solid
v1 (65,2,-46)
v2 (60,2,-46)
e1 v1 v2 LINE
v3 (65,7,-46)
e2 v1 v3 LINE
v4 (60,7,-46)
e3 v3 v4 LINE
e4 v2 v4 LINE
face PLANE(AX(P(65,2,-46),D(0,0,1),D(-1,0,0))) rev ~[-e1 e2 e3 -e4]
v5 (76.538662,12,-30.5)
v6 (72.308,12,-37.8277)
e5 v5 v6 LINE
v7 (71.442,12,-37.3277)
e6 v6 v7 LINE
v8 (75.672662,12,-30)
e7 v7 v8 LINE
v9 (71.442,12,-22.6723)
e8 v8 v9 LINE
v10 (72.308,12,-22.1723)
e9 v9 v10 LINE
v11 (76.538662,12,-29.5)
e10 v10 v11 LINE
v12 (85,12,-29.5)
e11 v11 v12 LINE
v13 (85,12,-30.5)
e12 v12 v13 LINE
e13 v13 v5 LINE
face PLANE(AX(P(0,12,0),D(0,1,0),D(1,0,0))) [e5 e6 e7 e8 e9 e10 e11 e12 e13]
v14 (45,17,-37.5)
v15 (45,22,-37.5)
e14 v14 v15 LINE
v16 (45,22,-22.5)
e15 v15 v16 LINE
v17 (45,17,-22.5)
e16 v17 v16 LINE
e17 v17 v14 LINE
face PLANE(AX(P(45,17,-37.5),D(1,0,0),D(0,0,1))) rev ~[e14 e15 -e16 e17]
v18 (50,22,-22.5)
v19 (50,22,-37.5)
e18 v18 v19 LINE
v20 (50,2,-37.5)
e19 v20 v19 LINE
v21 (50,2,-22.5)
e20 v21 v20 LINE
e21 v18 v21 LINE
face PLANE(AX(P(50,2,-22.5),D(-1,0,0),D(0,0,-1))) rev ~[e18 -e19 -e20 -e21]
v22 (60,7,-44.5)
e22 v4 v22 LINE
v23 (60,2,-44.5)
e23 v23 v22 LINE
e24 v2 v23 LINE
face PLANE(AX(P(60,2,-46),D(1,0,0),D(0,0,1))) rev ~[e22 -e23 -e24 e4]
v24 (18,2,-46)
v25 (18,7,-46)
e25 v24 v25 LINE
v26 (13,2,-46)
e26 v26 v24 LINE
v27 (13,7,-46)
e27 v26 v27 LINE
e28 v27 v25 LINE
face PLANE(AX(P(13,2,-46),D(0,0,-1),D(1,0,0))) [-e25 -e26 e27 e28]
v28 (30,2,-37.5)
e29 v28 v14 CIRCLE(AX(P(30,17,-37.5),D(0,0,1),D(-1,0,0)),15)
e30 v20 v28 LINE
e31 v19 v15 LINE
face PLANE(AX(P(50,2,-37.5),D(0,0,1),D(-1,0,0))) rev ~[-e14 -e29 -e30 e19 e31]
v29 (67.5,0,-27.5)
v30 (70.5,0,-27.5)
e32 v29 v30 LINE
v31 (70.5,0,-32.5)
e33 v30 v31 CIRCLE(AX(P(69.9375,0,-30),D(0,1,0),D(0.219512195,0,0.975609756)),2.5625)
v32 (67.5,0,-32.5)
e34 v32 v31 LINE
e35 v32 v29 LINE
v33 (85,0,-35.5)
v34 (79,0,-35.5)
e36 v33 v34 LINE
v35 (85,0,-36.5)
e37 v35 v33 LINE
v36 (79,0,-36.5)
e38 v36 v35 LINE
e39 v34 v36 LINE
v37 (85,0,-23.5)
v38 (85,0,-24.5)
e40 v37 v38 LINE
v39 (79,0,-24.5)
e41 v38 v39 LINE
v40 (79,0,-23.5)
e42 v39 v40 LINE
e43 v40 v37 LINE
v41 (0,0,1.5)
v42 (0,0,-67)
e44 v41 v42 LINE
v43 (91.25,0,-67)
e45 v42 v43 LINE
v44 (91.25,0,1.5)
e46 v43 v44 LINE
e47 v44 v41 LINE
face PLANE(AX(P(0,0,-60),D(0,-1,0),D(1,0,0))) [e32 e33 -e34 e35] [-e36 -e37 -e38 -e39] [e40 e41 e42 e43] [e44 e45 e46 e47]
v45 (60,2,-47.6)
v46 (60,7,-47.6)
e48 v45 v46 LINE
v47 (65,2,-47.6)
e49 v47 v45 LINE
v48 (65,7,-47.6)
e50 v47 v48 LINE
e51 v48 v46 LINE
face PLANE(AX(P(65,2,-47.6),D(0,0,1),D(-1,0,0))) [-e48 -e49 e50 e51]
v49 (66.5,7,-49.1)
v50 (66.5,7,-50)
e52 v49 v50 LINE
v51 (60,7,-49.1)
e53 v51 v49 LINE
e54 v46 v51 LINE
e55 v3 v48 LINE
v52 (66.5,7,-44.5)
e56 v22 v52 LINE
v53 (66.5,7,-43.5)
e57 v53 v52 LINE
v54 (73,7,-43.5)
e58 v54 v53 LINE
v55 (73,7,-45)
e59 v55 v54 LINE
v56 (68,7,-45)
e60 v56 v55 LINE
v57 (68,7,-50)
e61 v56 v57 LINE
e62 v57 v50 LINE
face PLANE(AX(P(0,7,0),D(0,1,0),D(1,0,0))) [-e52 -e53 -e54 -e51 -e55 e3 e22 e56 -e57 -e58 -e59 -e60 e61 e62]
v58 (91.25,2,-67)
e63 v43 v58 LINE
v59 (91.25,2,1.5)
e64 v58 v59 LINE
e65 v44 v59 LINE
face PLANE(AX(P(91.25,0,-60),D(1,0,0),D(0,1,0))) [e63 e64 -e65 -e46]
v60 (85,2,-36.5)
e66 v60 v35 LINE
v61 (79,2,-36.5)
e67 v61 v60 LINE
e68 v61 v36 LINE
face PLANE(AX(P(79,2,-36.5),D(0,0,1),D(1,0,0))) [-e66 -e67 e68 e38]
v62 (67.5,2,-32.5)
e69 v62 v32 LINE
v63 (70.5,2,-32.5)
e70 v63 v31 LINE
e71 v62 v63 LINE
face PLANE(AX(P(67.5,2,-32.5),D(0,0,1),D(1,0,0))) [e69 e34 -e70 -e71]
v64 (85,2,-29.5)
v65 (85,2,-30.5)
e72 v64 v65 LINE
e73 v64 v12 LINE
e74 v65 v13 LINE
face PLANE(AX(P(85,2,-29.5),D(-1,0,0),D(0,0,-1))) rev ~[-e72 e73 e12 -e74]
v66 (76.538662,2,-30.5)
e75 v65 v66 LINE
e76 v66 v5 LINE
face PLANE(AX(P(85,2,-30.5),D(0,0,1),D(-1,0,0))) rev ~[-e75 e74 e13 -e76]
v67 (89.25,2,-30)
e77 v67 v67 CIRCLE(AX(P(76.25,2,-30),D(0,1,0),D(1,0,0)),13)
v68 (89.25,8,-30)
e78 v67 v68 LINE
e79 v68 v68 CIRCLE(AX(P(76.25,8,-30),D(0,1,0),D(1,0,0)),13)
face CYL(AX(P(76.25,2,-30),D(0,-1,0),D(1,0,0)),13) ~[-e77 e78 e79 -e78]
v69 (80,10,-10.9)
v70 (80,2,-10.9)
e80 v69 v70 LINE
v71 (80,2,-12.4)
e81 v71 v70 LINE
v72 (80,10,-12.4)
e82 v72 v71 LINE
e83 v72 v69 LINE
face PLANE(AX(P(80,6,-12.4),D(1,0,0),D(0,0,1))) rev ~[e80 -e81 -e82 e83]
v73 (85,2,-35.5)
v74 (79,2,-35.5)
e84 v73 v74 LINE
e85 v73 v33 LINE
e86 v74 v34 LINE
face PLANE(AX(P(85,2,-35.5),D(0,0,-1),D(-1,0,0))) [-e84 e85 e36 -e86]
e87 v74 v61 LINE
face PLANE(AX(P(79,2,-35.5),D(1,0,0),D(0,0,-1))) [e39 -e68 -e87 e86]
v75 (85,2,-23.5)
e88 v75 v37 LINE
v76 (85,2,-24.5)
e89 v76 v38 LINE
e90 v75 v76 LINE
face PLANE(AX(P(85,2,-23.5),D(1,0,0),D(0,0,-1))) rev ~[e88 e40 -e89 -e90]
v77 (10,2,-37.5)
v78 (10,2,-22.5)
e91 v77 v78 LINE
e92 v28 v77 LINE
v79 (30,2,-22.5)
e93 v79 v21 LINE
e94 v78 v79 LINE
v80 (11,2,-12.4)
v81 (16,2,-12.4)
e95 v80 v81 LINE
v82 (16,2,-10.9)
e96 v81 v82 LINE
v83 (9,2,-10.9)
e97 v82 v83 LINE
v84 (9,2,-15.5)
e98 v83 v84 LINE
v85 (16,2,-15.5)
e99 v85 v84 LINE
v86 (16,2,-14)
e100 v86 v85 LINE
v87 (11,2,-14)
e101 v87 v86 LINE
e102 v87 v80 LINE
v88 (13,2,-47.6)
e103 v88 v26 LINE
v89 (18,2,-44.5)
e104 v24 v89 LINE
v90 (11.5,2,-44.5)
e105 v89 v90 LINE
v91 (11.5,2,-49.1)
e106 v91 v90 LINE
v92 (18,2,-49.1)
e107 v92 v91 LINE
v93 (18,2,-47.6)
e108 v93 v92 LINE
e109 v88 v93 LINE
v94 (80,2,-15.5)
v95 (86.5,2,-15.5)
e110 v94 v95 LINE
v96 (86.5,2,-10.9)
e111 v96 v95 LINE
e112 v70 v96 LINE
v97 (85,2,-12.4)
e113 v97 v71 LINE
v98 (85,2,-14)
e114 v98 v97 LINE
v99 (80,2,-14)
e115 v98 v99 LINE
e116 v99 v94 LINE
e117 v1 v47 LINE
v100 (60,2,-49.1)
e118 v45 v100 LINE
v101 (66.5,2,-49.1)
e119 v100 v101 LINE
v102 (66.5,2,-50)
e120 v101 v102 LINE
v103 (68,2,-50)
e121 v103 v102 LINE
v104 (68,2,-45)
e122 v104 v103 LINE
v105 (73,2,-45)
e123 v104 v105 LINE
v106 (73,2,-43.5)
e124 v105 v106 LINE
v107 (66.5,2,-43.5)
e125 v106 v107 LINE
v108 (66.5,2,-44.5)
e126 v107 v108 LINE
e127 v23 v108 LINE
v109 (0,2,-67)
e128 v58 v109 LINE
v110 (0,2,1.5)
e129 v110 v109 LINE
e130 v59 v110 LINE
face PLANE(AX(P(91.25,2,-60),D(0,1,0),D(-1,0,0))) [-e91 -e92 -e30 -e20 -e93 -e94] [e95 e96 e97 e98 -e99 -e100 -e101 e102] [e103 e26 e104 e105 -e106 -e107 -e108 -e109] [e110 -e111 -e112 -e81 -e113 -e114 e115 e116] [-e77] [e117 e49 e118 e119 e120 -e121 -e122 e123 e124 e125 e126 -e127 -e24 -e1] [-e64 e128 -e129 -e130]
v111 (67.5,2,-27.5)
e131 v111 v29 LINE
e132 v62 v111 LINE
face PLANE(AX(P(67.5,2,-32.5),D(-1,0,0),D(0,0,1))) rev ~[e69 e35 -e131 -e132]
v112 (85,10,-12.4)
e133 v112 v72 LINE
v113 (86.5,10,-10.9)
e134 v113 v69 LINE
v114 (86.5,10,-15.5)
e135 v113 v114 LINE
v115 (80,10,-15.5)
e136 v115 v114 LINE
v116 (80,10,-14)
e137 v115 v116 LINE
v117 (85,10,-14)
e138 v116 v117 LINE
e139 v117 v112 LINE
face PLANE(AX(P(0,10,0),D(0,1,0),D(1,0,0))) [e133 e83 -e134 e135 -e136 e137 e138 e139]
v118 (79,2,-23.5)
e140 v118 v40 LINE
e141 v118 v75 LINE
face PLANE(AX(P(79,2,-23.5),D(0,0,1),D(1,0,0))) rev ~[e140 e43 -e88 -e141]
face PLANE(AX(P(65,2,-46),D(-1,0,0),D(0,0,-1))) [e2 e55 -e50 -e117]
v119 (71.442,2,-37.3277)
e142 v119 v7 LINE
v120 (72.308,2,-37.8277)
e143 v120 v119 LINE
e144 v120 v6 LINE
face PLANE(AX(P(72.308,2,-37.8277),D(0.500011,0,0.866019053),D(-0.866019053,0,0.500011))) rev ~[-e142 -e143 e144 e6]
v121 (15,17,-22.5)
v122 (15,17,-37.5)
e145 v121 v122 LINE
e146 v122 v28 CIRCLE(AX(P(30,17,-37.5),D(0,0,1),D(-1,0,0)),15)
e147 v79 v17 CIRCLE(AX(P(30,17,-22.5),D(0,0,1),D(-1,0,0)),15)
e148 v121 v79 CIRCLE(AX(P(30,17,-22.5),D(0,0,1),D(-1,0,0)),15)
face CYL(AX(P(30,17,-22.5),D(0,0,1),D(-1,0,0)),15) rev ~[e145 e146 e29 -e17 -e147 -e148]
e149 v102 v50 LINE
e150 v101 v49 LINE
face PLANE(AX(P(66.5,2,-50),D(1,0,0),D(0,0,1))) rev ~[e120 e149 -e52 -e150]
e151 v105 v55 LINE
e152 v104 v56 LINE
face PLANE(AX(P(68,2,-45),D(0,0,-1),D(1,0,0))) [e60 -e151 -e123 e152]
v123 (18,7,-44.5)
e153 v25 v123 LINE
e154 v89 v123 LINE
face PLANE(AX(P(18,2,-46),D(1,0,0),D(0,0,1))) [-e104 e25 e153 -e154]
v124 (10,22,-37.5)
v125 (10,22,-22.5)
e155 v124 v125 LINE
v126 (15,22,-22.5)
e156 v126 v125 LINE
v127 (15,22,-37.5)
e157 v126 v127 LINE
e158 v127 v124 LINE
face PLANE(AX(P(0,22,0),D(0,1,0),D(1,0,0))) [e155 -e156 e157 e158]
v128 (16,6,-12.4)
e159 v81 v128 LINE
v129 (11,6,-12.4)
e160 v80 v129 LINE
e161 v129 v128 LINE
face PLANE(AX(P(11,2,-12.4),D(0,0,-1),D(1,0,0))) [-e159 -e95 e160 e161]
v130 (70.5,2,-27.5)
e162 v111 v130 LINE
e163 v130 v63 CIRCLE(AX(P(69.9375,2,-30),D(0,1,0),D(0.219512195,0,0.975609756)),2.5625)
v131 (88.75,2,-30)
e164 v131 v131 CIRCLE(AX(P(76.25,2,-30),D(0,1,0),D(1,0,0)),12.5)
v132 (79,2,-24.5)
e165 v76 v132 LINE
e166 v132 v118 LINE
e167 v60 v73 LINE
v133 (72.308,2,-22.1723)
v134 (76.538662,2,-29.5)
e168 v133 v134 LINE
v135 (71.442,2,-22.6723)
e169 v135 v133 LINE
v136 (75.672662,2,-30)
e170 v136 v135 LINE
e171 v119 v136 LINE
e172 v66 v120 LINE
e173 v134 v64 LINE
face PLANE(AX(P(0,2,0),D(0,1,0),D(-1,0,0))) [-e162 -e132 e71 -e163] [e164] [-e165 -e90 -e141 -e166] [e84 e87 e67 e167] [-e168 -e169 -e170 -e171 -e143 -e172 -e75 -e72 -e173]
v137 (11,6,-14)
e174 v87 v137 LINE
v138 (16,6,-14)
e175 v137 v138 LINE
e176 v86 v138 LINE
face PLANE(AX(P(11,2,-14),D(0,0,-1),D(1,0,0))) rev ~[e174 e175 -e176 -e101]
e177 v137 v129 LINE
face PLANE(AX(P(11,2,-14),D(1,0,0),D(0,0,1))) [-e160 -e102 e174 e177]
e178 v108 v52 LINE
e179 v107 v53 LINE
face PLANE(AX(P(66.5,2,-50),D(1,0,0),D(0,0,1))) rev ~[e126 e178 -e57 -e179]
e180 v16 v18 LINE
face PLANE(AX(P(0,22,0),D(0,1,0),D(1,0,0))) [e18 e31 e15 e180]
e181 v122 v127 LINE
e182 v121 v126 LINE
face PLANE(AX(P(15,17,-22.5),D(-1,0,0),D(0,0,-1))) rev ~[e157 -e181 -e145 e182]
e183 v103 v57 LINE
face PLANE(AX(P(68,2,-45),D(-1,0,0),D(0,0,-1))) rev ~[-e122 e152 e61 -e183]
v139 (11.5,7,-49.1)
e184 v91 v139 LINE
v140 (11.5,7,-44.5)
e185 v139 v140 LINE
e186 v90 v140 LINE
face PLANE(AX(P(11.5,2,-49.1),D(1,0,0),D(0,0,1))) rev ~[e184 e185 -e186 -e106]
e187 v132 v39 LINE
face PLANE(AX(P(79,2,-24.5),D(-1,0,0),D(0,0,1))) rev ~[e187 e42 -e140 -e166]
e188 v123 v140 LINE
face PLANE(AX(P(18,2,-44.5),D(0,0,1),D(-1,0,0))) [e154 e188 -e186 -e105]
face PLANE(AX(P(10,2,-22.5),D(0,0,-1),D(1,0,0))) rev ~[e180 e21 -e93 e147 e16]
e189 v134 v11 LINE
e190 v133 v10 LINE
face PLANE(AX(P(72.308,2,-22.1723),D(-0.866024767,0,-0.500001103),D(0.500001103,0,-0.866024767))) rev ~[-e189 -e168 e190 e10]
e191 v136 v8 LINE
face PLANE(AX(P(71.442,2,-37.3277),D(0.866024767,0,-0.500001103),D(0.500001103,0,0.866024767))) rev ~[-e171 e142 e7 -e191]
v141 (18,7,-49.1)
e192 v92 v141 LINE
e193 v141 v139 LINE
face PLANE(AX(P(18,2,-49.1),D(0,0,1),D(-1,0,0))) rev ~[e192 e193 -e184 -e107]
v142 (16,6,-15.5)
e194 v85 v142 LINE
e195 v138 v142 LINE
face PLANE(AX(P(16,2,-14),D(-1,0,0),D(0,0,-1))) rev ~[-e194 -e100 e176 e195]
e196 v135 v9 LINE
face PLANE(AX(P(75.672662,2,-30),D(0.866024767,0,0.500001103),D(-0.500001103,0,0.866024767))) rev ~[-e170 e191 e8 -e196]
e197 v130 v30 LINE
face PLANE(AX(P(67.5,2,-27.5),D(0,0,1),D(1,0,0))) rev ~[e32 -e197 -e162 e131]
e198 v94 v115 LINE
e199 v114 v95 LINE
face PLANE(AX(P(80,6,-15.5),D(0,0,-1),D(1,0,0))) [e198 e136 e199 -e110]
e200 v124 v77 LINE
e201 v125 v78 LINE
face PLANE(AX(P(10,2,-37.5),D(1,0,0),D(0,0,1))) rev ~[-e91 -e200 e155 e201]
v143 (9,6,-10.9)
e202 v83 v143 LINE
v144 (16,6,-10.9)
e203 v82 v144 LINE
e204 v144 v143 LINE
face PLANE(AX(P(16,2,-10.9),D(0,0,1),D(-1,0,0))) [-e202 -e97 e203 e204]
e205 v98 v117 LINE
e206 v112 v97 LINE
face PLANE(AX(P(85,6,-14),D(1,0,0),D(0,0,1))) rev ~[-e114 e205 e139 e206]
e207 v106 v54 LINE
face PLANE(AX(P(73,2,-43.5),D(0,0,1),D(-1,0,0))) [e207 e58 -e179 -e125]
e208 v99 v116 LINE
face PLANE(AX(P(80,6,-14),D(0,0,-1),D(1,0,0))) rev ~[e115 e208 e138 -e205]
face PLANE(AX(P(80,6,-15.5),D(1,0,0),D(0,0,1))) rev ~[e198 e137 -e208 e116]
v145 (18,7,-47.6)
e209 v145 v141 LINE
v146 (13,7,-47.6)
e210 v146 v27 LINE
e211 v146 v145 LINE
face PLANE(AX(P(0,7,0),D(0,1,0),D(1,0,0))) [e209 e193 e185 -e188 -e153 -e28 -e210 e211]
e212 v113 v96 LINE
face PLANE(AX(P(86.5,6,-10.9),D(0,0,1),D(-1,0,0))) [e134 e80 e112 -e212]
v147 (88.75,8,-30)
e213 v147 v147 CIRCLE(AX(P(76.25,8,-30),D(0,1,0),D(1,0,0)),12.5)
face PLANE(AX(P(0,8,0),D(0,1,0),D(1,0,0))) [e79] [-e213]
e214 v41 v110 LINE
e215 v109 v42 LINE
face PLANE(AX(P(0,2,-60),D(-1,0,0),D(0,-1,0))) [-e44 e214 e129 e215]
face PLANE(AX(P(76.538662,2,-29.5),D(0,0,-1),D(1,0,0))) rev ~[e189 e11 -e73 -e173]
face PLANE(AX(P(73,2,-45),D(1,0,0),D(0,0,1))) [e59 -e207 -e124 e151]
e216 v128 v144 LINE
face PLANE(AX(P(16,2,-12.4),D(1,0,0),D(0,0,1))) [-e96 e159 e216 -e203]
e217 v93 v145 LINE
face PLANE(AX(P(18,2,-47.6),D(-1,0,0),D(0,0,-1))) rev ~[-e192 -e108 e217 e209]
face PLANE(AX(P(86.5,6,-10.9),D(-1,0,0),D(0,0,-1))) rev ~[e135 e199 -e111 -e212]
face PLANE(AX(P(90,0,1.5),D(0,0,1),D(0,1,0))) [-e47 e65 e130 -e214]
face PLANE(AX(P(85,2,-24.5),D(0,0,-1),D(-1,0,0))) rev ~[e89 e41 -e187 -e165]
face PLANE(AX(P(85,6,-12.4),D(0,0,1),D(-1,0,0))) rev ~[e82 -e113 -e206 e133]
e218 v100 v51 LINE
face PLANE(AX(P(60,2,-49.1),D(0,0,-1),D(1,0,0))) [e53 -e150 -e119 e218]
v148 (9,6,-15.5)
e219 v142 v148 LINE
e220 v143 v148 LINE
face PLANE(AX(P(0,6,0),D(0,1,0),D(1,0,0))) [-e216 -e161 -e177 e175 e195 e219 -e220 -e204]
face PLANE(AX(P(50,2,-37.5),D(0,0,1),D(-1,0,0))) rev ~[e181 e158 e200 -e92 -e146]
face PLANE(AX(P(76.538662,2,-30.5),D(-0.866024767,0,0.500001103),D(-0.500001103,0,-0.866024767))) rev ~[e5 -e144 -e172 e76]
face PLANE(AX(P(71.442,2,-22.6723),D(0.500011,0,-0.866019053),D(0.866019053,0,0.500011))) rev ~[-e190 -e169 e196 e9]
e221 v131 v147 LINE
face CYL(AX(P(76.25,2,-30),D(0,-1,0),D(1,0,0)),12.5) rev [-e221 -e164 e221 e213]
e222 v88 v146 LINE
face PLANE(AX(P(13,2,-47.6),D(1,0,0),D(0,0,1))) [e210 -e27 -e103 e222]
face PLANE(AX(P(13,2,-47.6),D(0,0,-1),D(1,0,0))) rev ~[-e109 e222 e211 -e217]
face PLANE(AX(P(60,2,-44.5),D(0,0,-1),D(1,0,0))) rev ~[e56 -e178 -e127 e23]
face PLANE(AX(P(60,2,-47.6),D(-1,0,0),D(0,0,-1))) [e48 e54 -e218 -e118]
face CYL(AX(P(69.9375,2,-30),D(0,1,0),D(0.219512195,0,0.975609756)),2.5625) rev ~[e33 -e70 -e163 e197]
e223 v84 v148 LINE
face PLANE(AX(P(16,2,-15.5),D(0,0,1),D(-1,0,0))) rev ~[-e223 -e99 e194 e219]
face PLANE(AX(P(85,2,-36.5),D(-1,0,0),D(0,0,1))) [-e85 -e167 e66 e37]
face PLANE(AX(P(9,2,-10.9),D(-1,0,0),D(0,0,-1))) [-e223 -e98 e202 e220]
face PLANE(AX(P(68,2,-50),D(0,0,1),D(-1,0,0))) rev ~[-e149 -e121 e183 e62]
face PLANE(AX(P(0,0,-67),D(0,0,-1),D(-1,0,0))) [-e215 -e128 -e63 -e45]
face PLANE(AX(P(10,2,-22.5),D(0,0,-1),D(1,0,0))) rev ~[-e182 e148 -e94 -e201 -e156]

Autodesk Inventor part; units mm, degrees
ref_plane "YZ Plane" through (0, 0, 0) normal (1, 0, 0) x (0, 1, 0)
ref_plane "XZ Plane" through (0, 0, 0) normal (0, 1, 0) x (-1, 0, 0)
ref_plane "XY Plane" through (0, 0, 0) normal (0, 0, 1) x (1, 0, 0)
sketch "Sketch1" plane through (0, 0, 0) normal (0, 1, 0) x (-1, 0, 0)
  line L0 (0, 0) -> (-90, 0)
  line L1 (-90, 0) -> (-90, -60)
  line L2 (-90, -60) -> (0, -60)
  line L3 (0, -60) -> (0, 0)
  dimension "d0" = 90
  dimension "d1" = 60
extrude "Extrusion1" add sketch "Sketch1" along normal blind 2
sketch "Sketch2" plane through (0, 2, 0) normal (0, 1, 0) x (1, 0, 0)
  line L0 (90, 0) -> (90, 60) construction
  line L1 (90, 60) -> (85, 60) construction
  line L2 (90, 60) -> (0, 60) construction
  line L3 (85, 60) -> (85, 0) construction
  line L4 (0, 0) -> (90, 0) construction
  line L5 (85, 30) -> (85, 35.5) construction
  line L6 (85, 35.5) -> (85, 30) construction
  line L7 (85, 30) -> (85, 24.5) construction
  line L8 (85, 24.5) -> (79, 24.5)
  line L9 (79, 24.5) -> (79, 23.5)
  line L10 (79, 23.5) -> (85, 23.5)
  line L11 (85, 23.5) -> (85, 24.5)
  line L12 (85, 35.5) -> (79, 35.5)
  line L13 (79, 35.5) -> (79, 36.5)
  line L14 (79, 36.5) -> (85, 36.5)
  line L15 (85, 36.5) -> (85, 35.5)
  dimension "d4" = 5
  dimension "d5" = 5.5
  dimension "d6" = 5.5
  dimension "d7" = 6
  dimension "d8" = 1
  dimension "d9" = 1
extrude "Extrusion2" cut sketch "Sketch2" against normal through all
sketch "Sketch3" plane through (0, 2, 0) normal (0, 1, 0) x (1, 0, 0)
  line L0 (85, 35.5) -> (79, 35.5) construction
  line L1 (85, 24.5) -> (79, 24.5) construction
  line L2 (79, 35.5) -> (79, 24.5) construction
  line L3 (79, 30) -> (72.5, 30) construction
  line L4 (72.5, 30) -> (72.5, 32.5) construction
  line L5 (72.5, 32.5) -> (67.5, 32.5) construction
  line L6 (67.5, 32.5) -> (67.5, 27.5) construction
  line L7 (67.5, 27.5) -> (72.5, 27.5) construction
  line L8 (72.5, 27.5) -> (72.5, 32.5) construction
  line L9 (67.5, 27.5) -> (70.5, 27.5) construction
  line L10 (67.5, 32.5) -> (70.5, 32.5) construction
  arc A0 (70.5, 27.5) -> (70.5, 32.5) centre (69.9375, 30) ccw
  line L11 (70.5, 32.5) -> (67.5, 32.5) construction
  line L12 (67.5, 32.5) -> (67.5, 27.5) construction
  line L13 (67.5, 32.5) -> (70.5, 32.5)
  line L14 (67.5, 32.5) -> (67.5, 27.5)
  line L15 (67.5, 27.5) -> (70.5, 27.5)
  point P0 (0, 0)
  dimension "d12" = 6.5
  dimension "d15" = 2.5
  dimension "d16" = 5
  dimension "d17" = 5
  dimension "d18" = 3
  dimension "d19" = 3
extrude "Extrusion3" cut sketch "Sketch3" against normal through all
sketch "Sketch5" plane through (0, 2, 0) normal (0, 1, 0) x (1, 0, 0)
  line L0 (85, 35.5) -> (85, 36.5) construction
  line L1 (85, 36.5) -> (67.5, 36.5) construction
  line L2 (67.5, 36.5) -> (67.5, 23.5) construction
  line L3 (67.5, 23.5) -> (85, 23.5) construction
  line L4 (85, 23.5) -> (85, 36.5) construction
  circle A0 centre (76.25, 30) radius 12.5 construction
  line L5 (76.25, 30) -> (85, 30) construction
  line L6 (85, 30) -> (85, 30.5) construction
  line L7 (85, 30.5) -> (76.25, 30.5)
  line L8 (76.25, 30.5) -> (76.25, 29.5)
  line L9 (76.25, 29.5) -> (85, 29.5)
  line L10 (85, 29.5) -> (85, 30.5)
  line L11 (76.25, 30) -> (71.875, 37.5777) construction
  line L12 (71.875, 37.5777) -> (71.442, 37.3277) construction
  line L13 (71.442, 37.3277) -> (75.817, 29.75)
  line L14 (75.817, 29.75) -> (76.683, 30.25)
  line L15 (76.683, 30.25) -> (72.308, 37.8277)
  line L16 (72.308, 37.8277) -> (71.442, 37.3277)
  line L17 (76.25, 30) -> (71.875, 22.4223) construction
  line L18 (71.875, 22.4223) -> (72.308, 22.1723) construction
  line L19 (72.308, 22.1723) -> (76.683, 29.75)
  line L20 (76.683, 29.75) -> (75.817, 30.25)
  line L21 (75.817, 30.25) -> (71.442, 22.6723)
  line L22 (71.442, 22.6723) -> (72.308, 22.1723)
  point P0 (0, 0)
  dimension "d32" = 13
  dimension "d33" = 25
  dimension "d34" = 0.5
  dimension "d35" = 1
  dimension "d38" = 360
extrude "Extrusion4" add sketch "Sketch5" along normal blind 10
sketch "Sketch6" plane through (0, 2, 0) normal (0, 1, 0) x (1, 0, 0)
  line L0 (85, 36.5) -> (85, 35.5) construction
  line L1 (85, 36.5) -> (67.5, 36.5) construction
  line L2 (67.5, 36.5) -> (67.5, 23.5) construction
  line L3 (67.5, 23.5) -> (85, 23.5) construction
  line L4 (85, 23.5) -> (85, 36.5) construction
  circle A0 centre (76.25, 30) radius 12.5
  circle A1 centre (76.25, 30) radius 13
  point P0 (0, 0)
  dimension "d42" = 13
  dimension "d43" = 25
  dimension "d44" = 26
extrude "Extrusion5" add sketch "Sketch6" along normal blind 6
sketch "Sketch7" plane through (0, 2, 0) normal (0, 1, 0) x (1, 0, 0)
  line L0 (90, 0) -> (90, 60) construction
  line L1 (90, 30) -> (90, 14) construction
  line L2 (90, 14) -> (0, 14) construction
  line L3 (0, 60) -> (0, 0) construction
  line L4 (90, 14) -> (85, 14) construction
  line L5 (85, 14) -> (11, 14) construction
  line L6 (11, 14) -> (11, 12.4) construction
  line L7 (11, 12.4) -> (85, 12.4) construction
  line L8 (85, 12.4) -> (85, 14) construction
  line L9 (85, 14) -> (85, 12.4)
  line L10 (85, 12.4) -> (80, 12.4)
  line L11 (85, 14) -> (80, 14)
  line L12 (80, 14) -> (80, 15.5)
  line L13 (80, 12.4) -> (80, 10.9)
  line L14 (11, 14) -> (16, 14)
  line L15 (16, 14) -> (16, 15.5)
  line L16 (16, 15.5) -> (9, 15.5)
  line L17 (11, 14) -> (11, 12.4)
  line L18 (11, 12.4) -> (16, 12.4)
  line L19 (16, 12.4) -> (16, 10.9)
  line L20 (16, 10.9) -> (9, 10.9)
  line L21 (9, 10.9) -> (9, 15.5)
  line L22 (80, 15.5) -> (86.5, 15.5)
  line L23 (80, 10.9) -> (86.5, 10.9)
  line L24 (86.5, 10.9) -> (86.5, 15.5)
  dimension "d47" = 16
  dimension "d48" = 5
  dimension "d49" = 74
  dimension "d50" = 1.6
  dimension "d51" = 5
  dimension "d52" = 5
  dimension "d53" = 1.5
  dimension "d55" = 1.5
  dimension "d57" = 5
  dimension "d58" = 1.5
  dimension "d59" = 7
  dimension "d60" = 5
  dimension "d61" = 1.5
  dimension "d62" = 6.5
  dimension "d63" = 6.5
extrude "Extrusion6" add sketch "Sketch7" along normal blind 4
sketch "Sketch8" plane through (0, 6, 0) normal (0, 1, 0) x (1, 0, 0)
  line L0 (80, 15.5) -> (80, 14) projected
  line L1 (80, 14) -> (80, 15.5)
  line L2 (86.5, 10.9) -> (86.5, 15.5) projected
  line L3 (80, 15.5) -> (86.5, 15.5)
  line L4 (86.5, 15.5) -> (86.5, 10.9)
  line L5 (80, 12.4) -> (80, 10.9) projected
  line L6 (86.5, 10.9) -> (80, 10.9)
  line L7 (80, 10.9) -> (80, 12.4)
  line L8 (85, 12.4) -> (80, 12.4) projected
  line L9 (80, 12.4) -> (85, 12.4)
  line L10 (85, 14) -> (85, 12.4) projected
  line L11 (85, 12.4) -> (85, 14)
  line L12 (80, 14) -> (85, 14) projected
  line L13 (85, 14) -> (80, 14)
  point P0 (0, 0)
extrude "Extrusion7" add sketch "Sketch8" along normal blind 4
sketch "Sketch10" plane through (0, 2, 0) normal (0, 1, 0) x (1, 0, 0)
  line L0 (90, 0) -> (90, 60) construction
  line L1 (90, 30) -> (50, 30) construction
  line L2 (50, 30) -> (50, 37.5) construction
  line L3 (50, 37.5) -> (10, 37.5)
  line L4 (10, 37.5) -> (10, 22.5)
  line L5 (10, 22.5) -> (50, 22.5)
  line L6 (50, 22.5) -> (50, 37.5)
  point P0 (0, 0)
  dimension "d82" = 40
  dimension "d83" = 7.5
  dimension "d84" = 40
  dimension "d85" = 15
extrude "Extrusion9" add sketch "Sketch10" along normal blind 15
sketch "Sketch11" plane through (10, 2, -22.5) normal (0, 0, 1) x (1, 0, 0)
  line L0 (0, 0) -> (0, 15) construction
  line L1 (0, 15) -> (20, 15) construction
  line L2 (40, 15) -> (0, 15) construction
  arc A0 (5, 15) -> (35, 15) centre (20, 15) ccw
  line L3 (5, 15) -> (35, 15)
  point P0 (-10, -2)
  dimension "d88" = 30
extrude "Extrusion10" cut sketch "Sketch11" against normal blind 15
sketch "Sketch15" plane through (0, 2, 0) normal (0, 1, 0) x (1, 0, 0)
  line L0 (90, 0) -> (90, 60) construction
  line L1 (90, 30) -> (90, 45) construction
  line L2 (90, 45) -> (90, 45) construction
  line L3 (90, 45) -> (68, 45) construction
  line L4 (68, 45) -> (68, 65) construction
  line L5 (68, 65) -> (90, 65) construction
  line L6 (90, 65) -> (90, 45) construction
  line L7 (68, 45) -> (68, 50)
  line L8 (68, 50) -> (66.5, 50)
  line L9 (66.5, 50) -> (66.5, 45)
  line L10 (66.5, 45) -> (66.5, 43.5)
  line L11 (68, 45) -> (73, 45)
  line L12 (73, 45) -> (73, 43.5)
  line L13 (73, 43.5) -> (66.5, 43.5)
  line L14 (90, 60) -> (0, 60) projected
  point P0 (0, 0)
  dimension "d99" = 15
  dimension "d100" = 0
  dimension "d101" = 22
  dimension "d102" = 20
  dimension "d103" = 5
  dimension "d104" = 1.5
  dimension "d105" = 5
  dimension "d106" = 1.5
extrude "Extrusion13" add sketch "Sketch15" along normal blind 5
sketch "Sketch17" plane through (0, 17, 0) normal (0, 1, 0) x (1, 0, 0)
  line L0 (50, 37.5) -> (45, 37.5) projected
  line L1 (45, 22.5) -> (30, 22.5) projected
  line L2 (50, 37.5) -> (45, 37.5)
  line L3 (45, 37.5) -> (45, 22.5)
  line L4 (45, 22.5) -> (50, 22.5)
  line L5 (50, 22.5) -> (50, 37.5)
  line L6 (15, 37.5) -> (30, 37.5) projected
  line L7 (30, 22.5) -> (10, 22.5) projected
  line L8 (15, 37.5) -> (10, 37.5)
  line L9 (10, 37.5) -> (10, 22.5)
  line L10 (10, 22.5) -> (15, 22.5)
  line L11 (15, 22.5) -> (15, 37.5)
  point P0 (0, 0)
extrude "Extrusion14" add sketch "Sketch17" along normal blind 5
sketch "Sketch18" plane through (0, 2, 0) normal (0, 1, 0) x (1, 0, 0)
  line L0 (90, 0) -> (90, 60) construction
  line L1 (90, 30) -> (90, 46) construction
  line L2 (90, 46) -> (0, 46) construction
  line L3 (66.5, 43.5) -> (66.5, 50) construction
  line L4 (66.5, 46) -> (65, 46) construction
  line L5 (65, 46) -> (13, 46) construction
  line L6 (13, 46) -> (13, 47.6) construction
  line L7 (13, 47.6) -> (65, 47.6) construction
  line L8 (65, 47.6) -> (65, 46) construction
  line L9 (65, 46) -> (60, 46)
  line L10 (60, 46) -> (60, 44.5)
  line L11 (60, 44.5) -> (66.5, 44.5)
  line L12 (65, 46) -> (65, 47.6)
  line L13 (65, 47.6) -> (60, 47.6)
  line L14 (60, 47.6) -> (60, 49.1)
  line L15 (60, 49.1) -> (66.5, 49.1)
  line L16 (66.5, 49.1) -> (66.5, 44.5)
  line L17 (13, 47.6) -> (13, 46)
  line L18 (13, 46) -> (18, 46)
  line L19 (18, 46) -> (18, 44.5)
  line L20 (18, 44.5) -> (11.5, 44.5)
  line L21 (13, 47.6) -> (18, 47.6)
  line L22 (18, 47.6) -> (18, 49.1)
  line L23 (18, 49.1) -> (11.5, 49.1)
  line L24 (11.5, 49.1) -> (11.5, 44.5)
  point P0 (0, 0)
  dimension "d115" = 16
  dimension "d116" = 1.5
  dimension "d117" = 52
  dimension "d118" = 1.6
  dimension "d119" = 5
  dimension "d120" = 1.5
  dimension "d121" = 5
  dimension "d122" = 1.5
  dimension "d123" = 5
  dimension "d124" = 1.5
  dimension "d125" = 6.5
  dimension "d126" = 1.5
extrude "Extrusion15" add sketch "Sketch18" along normal blind 5
sketch "Sketch19" plane through (0, 0, 0) normal (0, 0, 1) x (1, 0, 0)
  line L0 (90, 2) -> (0, 2) projected
  line L1 (90, 0) -> (0, 0) projected
  line L2 (0, 2) -> (90, 2)
  line L3 (90, 2) -> (90, 0)
  line L4 (90, 0) -> (0, 0)
  line L5 (0, 0) -> (0, 2)
extrude "Extrusion16" add sketch "Sketch19" along normal blind 1.5
sketch "Sketch20" plane through (90, 0, -60) normal (1, 0, 0) x (0, 0, -1)
  line L0 (0, 0) -> (0, 2) projected
  line L1 (0, 2) -> (-61.5, 2) projected
  line L2 (0, 0) -> (-61.5, 0)
  line L3 (-61.5, 0) -> (-61.5, 2)
  line L4 (-61.5, 2) -> (0, 2)
  line L5 (0, 2) -> (0, 0)
  point P0 (-60, 0)
extrude "Extrusion17" add sketch "Sketch20" along normal blind 1.25
sketch "Sketch21" plane through (0, 0, -60) normal (0, 0, -1) x (-1, 0, 0)
  line L0 (0, 0) -> (-91.25, 0)
  line L1 (-91.25, 0) -> (-91.25, 2)
  line L2 (-91.25, 2) -> (0, 2)
  line L3 (0, 2) -> (0, 0)
extrude "Extrusion18" add sketch "Sketch21" along normal blind 7
sketch "Sketch22" plane through (0, 2, 0) normal (0, 1, 0) x (1, 0, 0)
  line L0 (85, 30.5) -> (85, 29.5) construction
  line L1 (91.25, -1.5) -> (91.25, 67) construction
  line L2 (91.25, 30) -> (89.25, 30) construction
  line L3 (89.25, 30) -> (87.75, 30) construction
  line L4 (87.75, 30) -> (87.75, 18.5) construction
  line L5 (87.75, 18.5) -> (50.75, 18.5) construction
  line L6 (50.75, 18.5) -> (50.75, 41.5) construction
  line L7 (50.75, 41.5) -> (87.75, 41.5) construction
  line L8 (87.75, 41.5) -> (87.75, 18.5) construction
  point P0 (0, 0)
  dimension "d135" = 2
  dimension "d136" = 1.5
  dimension "d137" = 11.5
  dimension "d138" = 37
  dimension "d139" = 23
properties part number "base"
